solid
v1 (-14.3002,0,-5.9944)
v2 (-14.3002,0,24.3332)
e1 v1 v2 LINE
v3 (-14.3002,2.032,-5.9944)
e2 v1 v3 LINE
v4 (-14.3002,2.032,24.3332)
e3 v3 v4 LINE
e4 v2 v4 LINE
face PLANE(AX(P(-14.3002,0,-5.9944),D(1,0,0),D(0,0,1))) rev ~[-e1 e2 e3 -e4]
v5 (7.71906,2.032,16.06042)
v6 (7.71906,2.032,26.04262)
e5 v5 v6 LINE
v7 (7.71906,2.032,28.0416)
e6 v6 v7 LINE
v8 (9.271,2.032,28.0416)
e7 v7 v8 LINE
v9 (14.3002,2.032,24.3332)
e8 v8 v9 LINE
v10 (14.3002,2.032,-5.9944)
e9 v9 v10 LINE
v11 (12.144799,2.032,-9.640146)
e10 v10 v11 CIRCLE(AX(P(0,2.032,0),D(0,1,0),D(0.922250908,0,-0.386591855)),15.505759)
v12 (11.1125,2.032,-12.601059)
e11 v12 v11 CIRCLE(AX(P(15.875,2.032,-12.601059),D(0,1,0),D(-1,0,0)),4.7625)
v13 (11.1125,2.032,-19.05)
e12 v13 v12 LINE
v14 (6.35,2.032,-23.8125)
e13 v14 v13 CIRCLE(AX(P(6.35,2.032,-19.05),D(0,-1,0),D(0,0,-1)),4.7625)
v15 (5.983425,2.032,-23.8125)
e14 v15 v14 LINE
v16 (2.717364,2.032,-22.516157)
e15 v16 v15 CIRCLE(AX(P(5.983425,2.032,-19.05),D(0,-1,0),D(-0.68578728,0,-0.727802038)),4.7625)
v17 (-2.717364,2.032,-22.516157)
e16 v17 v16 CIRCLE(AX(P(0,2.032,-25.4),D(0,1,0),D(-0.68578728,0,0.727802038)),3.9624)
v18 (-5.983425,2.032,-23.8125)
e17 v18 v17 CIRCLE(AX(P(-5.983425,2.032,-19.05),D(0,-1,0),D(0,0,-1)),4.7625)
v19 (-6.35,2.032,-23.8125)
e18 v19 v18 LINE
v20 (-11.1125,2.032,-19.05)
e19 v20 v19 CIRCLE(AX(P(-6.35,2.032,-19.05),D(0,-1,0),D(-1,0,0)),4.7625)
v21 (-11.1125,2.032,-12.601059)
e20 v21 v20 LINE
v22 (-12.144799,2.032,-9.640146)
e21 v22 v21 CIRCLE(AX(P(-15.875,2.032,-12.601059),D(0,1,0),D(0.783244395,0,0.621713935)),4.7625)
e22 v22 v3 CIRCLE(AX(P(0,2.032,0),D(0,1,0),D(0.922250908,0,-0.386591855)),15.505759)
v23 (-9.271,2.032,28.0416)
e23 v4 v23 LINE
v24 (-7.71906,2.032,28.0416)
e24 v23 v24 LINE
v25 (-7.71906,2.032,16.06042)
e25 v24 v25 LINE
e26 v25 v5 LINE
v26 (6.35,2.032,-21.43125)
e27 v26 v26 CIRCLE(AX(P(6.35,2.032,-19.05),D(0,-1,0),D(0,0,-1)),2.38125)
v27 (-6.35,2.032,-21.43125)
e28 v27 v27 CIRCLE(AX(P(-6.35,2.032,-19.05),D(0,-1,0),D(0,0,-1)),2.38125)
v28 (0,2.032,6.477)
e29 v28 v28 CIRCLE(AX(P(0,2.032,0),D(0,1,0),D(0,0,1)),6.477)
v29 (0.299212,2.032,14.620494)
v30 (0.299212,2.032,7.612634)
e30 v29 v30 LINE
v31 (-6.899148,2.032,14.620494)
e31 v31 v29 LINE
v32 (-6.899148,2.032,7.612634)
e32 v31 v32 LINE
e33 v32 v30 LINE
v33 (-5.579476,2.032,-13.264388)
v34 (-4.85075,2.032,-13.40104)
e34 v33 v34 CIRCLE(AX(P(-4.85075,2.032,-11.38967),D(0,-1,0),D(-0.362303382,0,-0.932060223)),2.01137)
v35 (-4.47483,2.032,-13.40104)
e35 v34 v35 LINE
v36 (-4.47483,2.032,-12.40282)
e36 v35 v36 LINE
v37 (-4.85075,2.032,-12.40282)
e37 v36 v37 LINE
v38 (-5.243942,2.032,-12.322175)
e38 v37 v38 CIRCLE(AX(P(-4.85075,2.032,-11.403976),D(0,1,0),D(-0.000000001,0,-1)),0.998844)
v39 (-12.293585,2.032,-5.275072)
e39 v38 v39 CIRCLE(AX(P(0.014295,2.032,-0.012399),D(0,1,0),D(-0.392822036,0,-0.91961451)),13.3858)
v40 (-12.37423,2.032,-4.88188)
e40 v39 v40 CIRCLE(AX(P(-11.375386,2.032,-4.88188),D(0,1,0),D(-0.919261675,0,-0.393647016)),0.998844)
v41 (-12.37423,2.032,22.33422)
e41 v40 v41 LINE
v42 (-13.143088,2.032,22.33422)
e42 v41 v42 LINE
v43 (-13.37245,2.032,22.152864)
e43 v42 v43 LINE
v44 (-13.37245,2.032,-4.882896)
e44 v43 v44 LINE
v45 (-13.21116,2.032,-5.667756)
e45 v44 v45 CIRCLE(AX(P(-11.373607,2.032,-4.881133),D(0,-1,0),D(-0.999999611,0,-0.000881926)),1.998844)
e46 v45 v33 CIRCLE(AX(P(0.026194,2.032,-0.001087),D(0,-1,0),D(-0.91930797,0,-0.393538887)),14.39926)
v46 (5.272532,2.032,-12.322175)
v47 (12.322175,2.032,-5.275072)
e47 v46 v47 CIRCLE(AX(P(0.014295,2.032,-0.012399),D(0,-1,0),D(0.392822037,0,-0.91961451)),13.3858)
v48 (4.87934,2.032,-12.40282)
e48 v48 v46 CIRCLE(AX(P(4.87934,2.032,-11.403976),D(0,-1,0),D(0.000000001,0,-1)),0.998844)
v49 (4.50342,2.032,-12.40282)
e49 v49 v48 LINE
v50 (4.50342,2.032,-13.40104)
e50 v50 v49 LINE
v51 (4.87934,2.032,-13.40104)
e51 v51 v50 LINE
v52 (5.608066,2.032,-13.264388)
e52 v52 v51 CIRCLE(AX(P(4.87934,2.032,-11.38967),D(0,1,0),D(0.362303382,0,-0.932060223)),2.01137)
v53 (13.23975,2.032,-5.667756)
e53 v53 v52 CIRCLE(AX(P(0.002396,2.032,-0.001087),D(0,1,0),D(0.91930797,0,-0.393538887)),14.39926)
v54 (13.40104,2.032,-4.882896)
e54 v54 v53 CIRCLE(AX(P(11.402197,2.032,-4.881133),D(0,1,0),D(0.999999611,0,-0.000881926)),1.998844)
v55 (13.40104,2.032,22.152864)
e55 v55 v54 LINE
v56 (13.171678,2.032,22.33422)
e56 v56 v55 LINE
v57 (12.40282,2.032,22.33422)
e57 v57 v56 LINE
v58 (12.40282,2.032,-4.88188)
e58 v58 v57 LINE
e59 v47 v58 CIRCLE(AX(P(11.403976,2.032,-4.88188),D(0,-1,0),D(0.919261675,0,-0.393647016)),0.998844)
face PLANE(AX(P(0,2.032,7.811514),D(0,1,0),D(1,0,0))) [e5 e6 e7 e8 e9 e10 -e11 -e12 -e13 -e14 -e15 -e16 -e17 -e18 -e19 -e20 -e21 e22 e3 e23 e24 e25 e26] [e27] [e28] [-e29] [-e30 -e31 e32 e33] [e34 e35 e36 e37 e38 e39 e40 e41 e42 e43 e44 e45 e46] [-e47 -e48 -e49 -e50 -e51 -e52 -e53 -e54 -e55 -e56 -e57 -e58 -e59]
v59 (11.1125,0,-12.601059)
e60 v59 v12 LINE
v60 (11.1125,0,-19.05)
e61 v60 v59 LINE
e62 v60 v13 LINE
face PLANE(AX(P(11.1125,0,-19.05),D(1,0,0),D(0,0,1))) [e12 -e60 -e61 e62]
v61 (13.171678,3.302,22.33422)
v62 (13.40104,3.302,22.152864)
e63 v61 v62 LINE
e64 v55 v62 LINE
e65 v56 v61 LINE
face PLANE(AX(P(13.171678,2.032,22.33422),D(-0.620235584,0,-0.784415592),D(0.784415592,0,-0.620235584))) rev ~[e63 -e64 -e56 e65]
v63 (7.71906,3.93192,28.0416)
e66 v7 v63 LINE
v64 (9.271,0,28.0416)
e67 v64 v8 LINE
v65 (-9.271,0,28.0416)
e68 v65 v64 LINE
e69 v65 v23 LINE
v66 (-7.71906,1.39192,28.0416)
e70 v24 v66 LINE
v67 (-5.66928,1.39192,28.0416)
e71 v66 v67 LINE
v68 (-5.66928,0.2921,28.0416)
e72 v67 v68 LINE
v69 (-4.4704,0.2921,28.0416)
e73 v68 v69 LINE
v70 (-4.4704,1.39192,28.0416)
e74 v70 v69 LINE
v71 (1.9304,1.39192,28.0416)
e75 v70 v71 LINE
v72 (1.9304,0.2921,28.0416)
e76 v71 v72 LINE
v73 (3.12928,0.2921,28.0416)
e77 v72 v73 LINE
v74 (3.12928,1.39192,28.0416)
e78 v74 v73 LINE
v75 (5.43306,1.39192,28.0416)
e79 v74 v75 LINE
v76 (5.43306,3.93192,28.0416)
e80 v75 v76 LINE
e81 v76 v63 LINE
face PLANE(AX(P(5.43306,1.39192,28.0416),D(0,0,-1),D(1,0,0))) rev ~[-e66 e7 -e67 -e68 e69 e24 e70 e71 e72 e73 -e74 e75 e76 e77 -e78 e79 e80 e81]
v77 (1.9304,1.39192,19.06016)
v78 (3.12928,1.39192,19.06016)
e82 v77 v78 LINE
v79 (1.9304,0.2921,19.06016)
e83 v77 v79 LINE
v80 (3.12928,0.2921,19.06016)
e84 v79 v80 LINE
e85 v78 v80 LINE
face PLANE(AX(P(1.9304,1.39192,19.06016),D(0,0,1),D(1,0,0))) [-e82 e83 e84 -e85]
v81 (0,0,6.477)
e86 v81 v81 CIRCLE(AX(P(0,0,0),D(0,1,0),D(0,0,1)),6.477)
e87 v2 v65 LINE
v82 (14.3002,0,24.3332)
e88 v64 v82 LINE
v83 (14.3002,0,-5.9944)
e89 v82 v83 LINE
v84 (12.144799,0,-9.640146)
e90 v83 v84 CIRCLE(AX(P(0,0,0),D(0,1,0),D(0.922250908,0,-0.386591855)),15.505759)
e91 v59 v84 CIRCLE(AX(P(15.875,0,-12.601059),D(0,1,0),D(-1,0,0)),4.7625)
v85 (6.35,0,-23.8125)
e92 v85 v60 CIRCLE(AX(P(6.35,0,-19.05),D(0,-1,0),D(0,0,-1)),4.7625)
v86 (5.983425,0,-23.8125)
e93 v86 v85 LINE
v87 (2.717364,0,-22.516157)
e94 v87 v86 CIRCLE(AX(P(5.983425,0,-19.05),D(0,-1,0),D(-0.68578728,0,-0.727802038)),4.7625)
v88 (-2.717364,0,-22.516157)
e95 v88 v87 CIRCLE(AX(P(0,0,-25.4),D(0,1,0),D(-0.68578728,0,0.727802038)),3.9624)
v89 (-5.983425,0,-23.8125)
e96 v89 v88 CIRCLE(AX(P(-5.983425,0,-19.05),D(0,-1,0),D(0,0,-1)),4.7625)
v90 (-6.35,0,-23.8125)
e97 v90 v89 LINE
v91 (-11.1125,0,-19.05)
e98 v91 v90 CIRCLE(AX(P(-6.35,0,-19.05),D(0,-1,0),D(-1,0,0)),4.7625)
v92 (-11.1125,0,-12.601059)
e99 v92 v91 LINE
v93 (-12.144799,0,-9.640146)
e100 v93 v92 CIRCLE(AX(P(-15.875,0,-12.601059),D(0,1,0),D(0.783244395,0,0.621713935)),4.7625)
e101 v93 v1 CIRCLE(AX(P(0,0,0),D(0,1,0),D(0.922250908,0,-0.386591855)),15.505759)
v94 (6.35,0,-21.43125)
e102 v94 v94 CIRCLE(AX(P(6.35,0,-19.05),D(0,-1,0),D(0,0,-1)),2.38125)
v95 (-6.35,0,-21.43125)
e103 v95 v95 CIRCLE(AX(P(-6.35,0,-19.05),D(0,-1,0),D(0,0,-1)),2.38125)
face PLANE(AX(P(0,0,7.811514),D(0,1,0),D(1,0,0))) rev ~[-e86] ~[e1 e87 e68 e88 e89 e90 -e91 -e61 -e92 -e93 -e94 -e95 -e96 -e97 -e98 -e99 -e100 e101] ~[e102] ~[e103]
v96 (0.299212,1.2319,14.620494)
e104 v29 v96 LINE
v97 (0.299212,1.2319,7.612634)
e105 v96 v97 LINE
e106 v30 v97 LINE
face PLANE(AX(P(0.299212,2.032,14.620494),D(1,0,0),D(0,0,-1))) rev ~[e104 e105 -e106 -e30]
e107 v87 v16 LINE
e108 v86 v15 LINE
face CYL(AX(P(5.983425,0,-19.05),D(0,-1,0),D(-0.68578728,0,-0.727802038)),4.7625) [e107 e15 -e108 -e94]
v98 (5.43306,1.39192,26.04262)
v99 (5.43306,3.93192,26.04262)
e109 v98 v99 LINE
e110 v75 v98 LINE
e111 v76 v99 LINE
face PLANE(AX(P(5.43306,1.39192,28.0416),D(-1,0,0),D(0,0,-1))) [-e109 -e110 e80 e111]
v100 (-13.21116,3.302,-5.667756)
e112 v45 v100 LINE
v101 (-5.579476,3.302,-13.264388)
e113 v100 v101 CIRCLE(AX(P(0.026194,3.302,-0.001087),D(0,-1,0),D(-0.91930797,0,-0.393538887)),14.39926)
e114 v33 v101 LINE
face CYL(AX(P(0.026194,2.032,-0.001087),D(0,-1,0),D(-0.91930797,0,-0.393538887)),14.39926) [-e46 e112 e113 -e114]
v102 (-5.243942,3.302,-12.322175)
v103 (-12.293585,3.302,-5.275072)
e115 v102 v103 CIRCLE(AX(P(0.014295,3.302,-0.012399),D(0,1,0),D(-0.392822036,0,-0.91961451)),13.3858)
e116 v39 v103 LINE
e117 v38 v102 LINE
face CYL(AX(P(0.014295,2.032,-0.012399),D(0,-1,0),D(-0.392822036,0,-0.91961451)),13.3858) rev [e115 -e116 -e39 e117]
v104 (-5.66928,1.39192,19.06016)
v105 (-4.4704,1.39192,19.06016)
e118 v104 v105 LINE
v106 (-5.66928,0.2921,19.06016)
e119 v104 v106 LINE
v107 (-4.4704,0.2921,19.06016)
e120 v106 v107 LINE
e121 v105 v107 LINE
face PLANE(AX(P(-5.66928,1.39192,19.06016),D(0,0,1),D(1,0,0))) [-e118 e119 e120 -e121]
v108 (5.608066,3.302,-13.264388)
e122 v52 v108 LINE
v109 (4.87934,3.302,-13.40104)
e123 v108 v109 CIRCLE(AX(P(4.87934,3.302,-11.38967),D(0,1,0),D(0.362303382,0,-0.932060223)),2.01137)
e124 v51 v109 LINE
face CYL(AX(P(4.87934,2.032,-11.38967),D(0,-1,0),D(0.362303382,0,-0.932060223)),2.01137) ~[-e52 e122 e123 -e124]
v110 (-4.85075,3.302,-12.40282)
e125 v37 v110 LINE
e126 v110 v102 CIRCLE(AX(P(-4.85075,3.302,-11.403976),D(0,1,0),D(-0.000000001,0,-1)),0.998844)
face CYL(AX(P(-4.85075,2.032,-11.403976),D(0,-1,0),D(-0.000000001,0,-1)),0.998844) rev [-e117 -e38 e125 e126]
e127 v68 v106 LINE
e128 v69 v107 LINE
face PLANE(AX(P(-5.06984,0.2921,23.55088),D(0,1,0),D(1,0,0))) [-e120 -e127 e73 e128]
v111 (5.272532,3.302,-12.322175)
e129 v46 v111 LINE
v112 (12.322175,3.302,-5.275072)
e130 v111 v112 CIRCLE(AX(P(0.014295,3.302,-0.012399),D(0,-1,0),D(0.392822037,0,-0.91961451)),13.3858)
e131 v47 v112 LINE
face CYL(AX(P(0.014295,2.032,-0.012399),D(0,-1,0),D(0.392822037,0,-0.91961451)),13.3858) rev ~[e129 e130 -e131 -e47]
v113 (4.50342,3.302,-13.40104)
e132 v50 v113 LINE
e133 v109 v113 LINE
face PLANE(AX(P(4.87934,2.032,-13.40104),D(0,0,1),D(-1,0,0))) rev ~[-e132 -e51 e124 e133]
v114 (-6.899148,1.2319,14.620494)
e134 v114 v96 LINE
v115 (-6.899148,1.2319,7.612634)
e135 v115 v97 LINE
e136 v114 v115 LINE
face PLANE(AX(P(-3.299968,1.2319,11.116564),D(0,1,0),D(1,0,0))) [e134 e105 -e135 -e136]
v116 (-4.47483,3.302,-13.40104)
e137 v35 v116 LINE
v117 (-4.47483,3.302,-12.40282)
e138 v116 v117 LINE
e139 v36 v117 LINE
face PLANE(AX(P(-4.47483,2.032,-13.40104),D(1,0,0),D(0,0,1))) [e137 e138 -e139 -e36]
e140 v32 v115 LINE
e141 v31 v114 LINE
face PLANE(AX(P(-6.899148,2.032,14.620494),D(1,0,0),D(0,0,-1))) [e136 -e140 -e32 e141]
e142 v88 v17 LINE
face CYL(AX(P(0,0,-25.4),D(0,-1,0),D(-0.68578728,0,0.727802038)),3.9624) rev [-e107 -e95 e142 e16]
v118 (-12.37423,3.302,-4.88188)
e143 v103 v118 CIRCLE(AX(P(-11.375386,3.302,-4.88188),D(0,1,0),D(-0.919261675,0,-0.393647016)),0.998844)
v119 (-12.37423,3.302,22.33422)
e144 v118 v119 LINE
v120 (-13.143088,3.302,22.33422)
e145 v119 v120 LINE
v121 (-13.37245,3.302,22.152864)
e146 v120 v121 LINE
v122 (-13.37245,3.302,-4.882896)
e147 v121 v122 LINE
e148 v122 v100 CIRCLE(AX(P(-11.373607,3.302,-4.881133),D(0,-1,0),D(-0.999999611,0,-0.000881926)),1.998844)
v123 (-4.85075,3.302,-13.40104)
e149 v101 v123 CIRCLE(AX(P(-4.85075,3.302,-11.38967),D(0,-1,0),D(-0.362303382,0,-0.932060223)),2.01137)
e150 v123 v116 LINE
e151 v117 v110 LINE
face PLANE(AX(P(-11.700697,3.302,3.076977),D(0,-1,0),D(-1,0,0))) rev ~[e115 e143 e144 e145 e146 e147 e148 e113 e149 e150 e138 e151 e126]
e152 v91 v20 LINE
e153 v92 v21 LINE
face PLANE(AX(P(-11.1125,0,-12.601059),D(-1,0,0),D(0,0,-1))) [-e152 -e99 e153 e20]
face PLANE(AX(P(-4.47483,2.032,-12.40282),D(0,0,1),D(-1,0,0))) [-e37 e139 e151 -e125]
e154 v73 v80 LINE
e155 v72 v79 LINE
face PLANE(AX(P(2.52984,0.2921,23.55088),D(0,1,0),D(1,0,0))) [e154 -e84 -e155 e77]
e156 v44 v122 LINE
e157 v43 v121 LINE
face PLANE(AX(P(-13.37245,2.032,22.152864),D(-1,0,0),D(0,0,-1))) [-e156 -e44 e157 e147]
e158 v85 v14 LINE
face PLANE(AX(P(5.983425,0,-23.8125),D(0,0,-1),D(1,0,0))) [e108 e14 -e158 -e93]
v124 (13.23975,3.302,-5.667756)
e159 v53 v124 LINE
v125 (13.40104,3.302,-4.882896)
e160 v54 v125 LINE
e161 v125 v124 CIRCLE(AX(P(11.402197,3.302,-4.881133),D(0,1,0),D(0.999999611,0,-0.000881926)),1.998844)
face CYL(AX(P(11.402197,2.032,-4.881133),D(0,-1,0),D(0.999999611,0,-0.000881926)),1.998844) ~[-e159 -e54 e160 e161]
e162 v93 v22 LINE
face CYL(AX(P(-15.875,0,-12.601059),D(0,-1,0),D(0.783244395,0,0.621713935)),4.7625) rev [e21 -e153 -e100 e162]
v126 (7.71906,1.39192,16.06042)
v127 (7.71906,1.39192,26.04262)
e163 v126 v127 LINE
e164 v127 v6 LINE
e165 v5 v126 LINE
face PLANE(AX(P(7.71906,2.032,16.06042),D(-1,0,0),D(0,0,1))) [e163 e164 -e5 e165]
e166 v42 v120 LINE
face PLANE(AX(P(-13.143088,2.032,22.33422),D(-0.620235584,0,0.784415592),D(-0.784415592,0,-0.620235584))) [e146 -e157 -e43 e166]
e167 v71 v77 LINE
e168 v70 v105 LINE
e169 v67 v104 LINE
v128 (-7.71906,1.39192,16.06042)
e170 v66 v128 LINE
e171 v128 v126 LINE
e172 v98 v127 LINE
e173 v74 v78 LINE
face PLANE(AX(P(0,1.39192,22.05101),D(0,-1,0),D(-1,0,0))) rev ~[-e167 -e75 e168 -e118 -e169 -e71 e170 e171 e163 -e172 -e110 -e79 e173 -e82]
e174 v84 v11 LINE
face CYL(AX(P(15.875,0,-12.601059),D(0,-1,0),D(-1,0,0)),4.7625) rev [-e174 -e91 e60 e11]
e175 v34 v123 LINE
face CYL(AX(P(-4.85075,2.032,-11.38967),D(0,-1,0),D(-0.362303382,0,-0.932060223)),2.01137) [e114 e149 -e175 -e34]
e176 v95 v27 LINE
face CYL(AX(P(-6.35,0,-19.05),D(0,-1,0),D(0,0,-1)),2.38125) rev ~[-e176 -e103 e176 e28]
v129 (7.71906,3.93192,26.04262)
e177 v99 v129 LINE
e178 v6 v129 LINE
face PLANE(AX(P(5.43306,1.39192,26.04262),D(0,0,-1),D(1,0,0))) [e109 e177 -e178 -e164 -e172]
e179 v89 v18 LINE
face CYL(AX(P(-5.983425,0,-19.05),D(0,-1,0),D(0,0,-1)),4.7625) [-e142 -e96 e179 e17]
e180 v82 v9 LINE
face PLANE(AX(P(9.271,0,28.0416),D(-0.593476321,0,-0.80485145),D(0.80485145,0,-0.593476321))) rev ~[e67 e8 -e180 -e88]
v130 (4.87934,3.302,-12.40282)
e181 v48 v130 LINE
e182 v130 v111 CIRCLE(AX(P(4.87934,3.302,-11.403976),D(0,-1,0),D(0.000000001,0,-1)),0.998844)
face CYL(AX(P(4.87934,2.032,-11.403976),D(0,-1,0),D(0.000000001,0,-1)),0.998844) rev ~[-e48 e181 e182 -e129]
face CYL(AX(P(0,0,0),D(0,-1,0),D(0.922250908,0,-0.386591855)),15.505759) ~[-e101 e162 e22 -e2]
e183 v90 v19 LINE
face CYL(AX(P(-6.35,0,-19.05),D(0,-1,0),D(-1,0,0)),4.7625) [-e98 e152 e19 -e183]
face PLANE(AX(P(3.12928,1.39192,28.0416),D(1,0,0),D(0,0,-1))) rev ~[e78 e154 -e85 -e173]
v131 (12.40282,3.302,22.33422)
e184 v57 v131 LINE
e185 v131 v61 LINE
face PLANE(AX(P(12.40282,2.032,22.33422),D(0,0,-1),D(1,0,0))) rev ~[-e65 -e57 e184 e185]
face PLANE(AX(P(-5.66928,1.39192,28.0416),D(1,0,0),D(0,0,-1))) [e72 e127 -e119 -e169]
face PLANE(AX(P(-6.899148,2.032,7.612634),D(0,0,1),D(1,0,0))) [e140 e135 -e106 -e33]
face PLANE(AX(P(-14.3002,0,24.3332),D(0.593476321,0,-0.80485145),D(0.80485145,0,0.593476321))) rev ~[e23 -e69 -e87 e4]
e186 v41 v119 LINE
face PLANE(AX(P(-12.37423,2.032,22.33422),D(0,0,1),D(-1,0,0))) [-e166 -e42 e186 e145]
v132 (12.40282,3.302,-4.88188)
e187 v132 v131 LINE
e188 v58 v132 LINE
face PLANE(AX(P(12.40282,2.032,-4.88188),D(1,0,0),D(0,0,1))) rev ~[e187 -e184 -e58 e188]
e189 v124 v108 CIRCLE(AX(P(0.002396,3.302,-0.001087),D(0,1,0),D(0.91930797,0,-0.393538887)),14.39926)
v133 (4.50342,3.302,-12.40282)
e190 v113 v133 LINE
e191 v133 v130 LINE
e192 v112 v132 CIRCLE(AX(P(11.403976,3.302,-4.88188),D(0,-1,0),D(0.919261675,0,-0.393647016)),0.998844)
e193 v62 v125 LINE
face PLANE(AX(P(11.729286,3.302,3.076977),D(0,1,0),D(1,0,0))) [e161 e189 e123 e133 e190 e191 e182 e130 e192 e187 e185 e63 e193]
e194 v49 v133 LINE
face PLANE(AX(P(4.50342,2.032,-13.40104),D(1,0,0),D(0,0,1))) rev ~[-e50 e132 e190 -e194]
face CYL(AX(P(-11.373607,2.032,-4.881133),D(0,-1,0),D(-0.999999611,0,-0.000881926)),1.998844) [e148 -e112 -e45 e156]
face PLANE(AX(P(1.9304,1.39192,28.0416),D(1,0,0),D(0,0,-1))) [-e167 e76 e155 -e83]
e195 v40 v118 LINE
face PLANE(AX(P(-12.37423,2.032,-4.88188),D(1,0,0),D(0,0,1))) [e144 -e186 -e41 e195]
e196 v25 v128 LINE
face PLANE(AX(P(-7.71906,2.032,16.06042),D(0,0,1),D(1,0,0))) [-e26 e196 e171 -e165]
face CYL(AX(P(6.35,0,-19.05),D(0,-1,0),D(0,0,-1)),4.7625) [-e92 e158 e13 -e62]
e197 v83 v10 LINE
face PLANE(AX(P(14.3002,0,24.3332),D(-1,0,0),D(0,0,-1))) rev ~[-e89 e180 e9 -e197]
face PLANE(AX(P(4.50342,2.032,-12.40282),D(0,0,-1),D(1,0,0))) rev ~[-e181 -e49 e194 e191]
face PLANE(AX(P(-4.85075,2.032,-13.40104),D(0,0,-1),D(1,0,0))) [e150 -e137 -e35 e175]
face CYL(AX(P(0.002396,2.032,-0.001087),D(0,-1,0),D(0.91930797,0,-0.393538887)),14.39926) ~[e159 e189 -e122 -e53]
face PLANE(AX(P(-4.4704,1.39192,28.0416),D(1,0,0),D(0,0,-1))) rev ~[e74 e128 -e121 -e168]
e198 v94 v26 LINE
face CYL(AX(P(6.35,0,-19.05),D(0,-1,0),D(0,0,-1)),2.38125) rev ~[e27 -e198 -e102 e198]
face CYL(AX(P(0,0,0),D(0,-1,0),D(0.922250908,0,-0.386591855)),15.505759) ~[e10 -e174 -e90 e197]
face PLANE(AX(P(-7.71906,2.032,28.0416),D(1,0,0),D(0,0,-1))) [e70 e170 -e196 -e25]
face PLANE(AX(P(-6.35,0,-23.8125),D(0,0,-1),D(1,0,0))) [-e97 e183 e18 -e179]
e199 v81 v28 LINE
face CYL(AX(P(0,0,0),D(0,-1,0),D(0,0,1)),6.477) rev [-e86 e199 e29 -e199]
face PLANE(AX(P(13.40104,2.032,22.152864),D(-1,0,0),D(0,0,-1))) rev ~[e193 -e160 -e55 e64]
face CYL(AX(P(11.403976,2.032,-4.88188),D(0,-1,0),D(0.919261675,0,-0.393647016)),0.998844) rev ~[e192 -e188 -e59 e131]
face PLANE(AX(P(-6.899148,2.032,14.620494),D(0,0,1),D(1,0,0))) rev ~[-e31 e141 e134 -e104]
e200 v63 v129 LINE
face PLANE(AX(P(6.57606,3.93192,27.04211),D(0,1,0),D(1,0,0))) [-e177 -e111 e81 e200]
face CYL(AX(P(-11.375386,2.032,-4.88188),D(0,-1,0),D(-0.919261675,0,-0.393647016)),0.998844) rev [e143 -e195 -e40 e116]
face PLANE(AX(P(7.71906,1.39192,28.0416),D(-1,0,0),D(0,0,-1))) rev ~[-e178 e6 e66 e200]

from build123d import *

# Parameters (mm, degrees)
SKETCH1_R           = 6.477
BOSS_EXTRUDE1_DEPTH = 2.032
CUT_EXTRUDE1_DEPTH  = 0.64008
SKETCH3_W           = 1.19888
SKETCH3_H           = 8.98144
CUT_EXTRUDE2_DEPTH  = 1.09982
SKETCH4_W           = 7.19836
SKETCH4_H           = 7.00786
CUT_EXTRUDE3_DEPTH  = 0.8001
BOSS_EXTRUDE2_DEPTH = 1.27
SKETCH6_W           = 2.286
SKETCH6_H           = 1.99898
BOSS_EXTRUDE3_DEPTH = 2.54
SKETCH7_R           = 2.38125
BOSS_EXTRUDE4_DEPTH = 2.032


with BuildPart() as part:
    # Sketch1 → Boss-Extrude1 (new body)
    with BuildSketch(Plane(origin=(0, 0, 0), x_dir=(1, 0, 0), z_dir=(0, 1, 0))):
        with BuildLine():
            Line((-14.3002, 5.9944), (-14.3002, -24.3332))
            Line((-14.3002, -24.3332), (-9.271, -28.0416))
            Line((-9.271, -28.0416), (9.271, -28.0416))
            Line((9.271, -28.0416), (14.3002, -24.3332))
            Line((14.3002, -24.3332), (14.3002, 5.9944))
            ThreePointArc((14.3002, 5.9944), (0, 15.505758653), (-14.3002, 5.9944))
        make_face()
        with Locations(Location((0, 0, 0), (0, 0, 270))):
            Circle(SKETCH1_R, mode=Mode.SUBTRACT)
    extrude(amount=BOSS_EXTRUDE1_DEPTH)

    # Sketch2 → Cut-Extrude1 (cut)
    with BuildSketch(Plane(origin=(0, 2.032, 0), x_dir=(1, 0, 0), z_dir=(0, 1, 0))):
        Polygon((0, -28.0416), (-7.71906, -28.0416), (-7.71906, -16.06042), (7.71906, -16.06042), (7.71906, -28.0416), align=None)
    extrude(amount=-CUT_EXTRUDE1_DEPTH, mode=Mode.SUBTRACT)

    # Sketch3 → Cut-Extrude2 (cut)
    with BuildSketch(Plane(origin=(0, 1.39192, 0), x_dir=(1, 0, 0), z_dir=(0, 1, 0))):
        with Locations((-5.06984, -23.55088)):
            Rectangle(SKETCH3_W, SKETCH3_H)
        with Locations((2.52984, -23.55088)):
            Rectangle(SKETCH3_W, SKETCH3_H)
    extrude(amount=-CUT_EXTRUDE2_DEPTH, mode=Mode.SUBTRACT)

    # Sketch4 → Cut-Extrude3 (cut)
    with BuildSketch(Plane(origin=(0, 2.032, 0), x_dir=(1, 0, 0), z_dir=(0, 1, 0))):
        with Locations((-3.299968, -11.116564)):
            Rectangle(SKETCH4_W, SKETCH4_H)
    extrude(amount=-CUT_EXTRUDE3_DEPTH, mode=Mode.SUBTRACT)

    # Sketch5 → Boss-Extrude2 (add)
    with BuildSketch(Plane(origin=(0, 2.032, 0), x_dir=(1, 0, 0), z_dir=(0, 1, 0))):
        with BuildLine():
            Line((12.40282, -22.33422), (13.171678, -22.33422))
            Line((13.171678, -22.33422), (13.40104, -22.152864))
            Line((13.40104, -22.152864), (13.40104, 4.882896))
            ThreePointArc((13.40104, 4.882896), (13.360125716, 5.283490726), (13.23975, 5.667756))
            ThreePointArc((13.23975, 5.667756), (10.160746855, 10.20631074), (5.608066, 13.264388))
            ThreePointArc((5.608066, 13.264388), (5.250053957, 13.366581837), (4.87934, 13.40104))
            Line((4.87934, 13.40104), (4.50342, 13.40104))
            Line((4.50342, 13.40104), (4.50342, 12.40282))
            Line((4.50342, 12.40282), (4.87934, 12.40282))
            ThreePointArc((4.87934, 12.40282), (5.080028543, 12.382451063), (5.272532, 12.322175))
            ThreePointArc((5.272532, 12.322175), (9.477779109, 9.479294357), (12.322175, 5.275072))
            ThreePointArc((12.322175, 5.275072), (12.382451063, 5.082568543), (12.40282, 4.88188))
            Line((12.40282, 4.88188), (12.40282, -22.33422))
        make_face()
        with BuildLine():
            Line((-4.850750436, 13.40104), (-4.474830436, 13.40104))
            Line((-4.474830436, 13.40104), (-4.474830436, 12.40282))
            Line((-4.474830436, 12.40282), (-4.850750436, 12.40282))
            ThreePointArc((-4.850750436, 12.40282), (-5.051438979, 12.382451063), (-5.243942436, 12.322175))
            ThreePointArc((-5.243942436, 12.322175), (-9.449189546, 9.479294357), (-12.293585436, 5.275072))
            ThreePointArc((-12.293585436, 5.275072), (-12.353861499, 5.082568543), (-12.374230436, 4.88188))
            Line((-12.374230436, 4.88188), (-12.374230436, -22.33422))
            Line((-12.374230436, -22.33422), (-13.143088436, -22.33422))
            Line((-13.143088436, -22.33422), (-13.372450436, -22.152864))
            Line((-13.372450436, -22.152864), (-13.372450436, 4.882896))
            ThreePointArc((-13.372450436, 4.882896), (-13.331536152, 5.283490726), (-13.211160436, 5.667756))
            ThreePointArc((-13.211160436, 5.667756), (-10.132157291, 10.20631074), (-5.579476436, 13.264388))
            ThreePointArc((-5.579476436, 13.264388), (-5.221464393, 13.366581837), (-4.850750436, 13.40104))
        make_face()
    extrude(amount=BOSS_EXTRUDE2_DEPTH)

    # Sketch6 → Boss-Extrude3 (add)
    with BuildSketch(Plane(origin=(0, 1.39192, 0), x_dir=(1, 0, 0), z_dir=(0, 1, 0))):
        with Locations((6.57606, -27.04211)):
            Rectangle(SKETCH6_W, SKETCH6_H)
    extrude(amount=BOSS_EXTRUDE3_DEPTH)

    # Sketch7 → Boss-Extrude4 (add)
    with BuildSketch(Plane.XZ):
        with BuildLine():
            ThreePointArc((-12.144798566, -9.640146223), (-11.377973728, -11.033206497), (-11.1125, -12.601058837))
            Line((-11.1125, -12.601058837), (-11.1125, -19.05))
            ThreePointArc((-11.1125, -19.05), (-9.717596045, -22.417596045), (-6.35, -23.8125))
            Line((-6.35, -23.8125), (-5.983425441, -23.8125))
            ThreePointArc((-5.983425441, -23.8125), (-4.22646321, -23.476566386), (-2.717363519, -22.516157205))
            ThreePointArc((-2.717363519, -22.516157205), (0, -21.4376), (2.717363519, -22.516157205))
            ThreePointArc((2.717363519, -22.516157205), (4.22646321, -23.476566386), (5.983425441, -23.8125))
            Line((5.983425441, -23.8125), (6.35, -23.8125))
            ThreePointArc((6.35, -23.8125), (9.717596045, -22.417596045), (11.1125, -19.05))
            Line((11.1125, -19.05), (11.1125, -12.601058837))
            ThreePointArc((11.1125, -12.601058837), (11.377973728, -11.033206497), (12.144798566, -9.640146223))
            ThreePointArc((12.144798566, -9.640146223), (0, -15.505758653), (-12.144798566, -9.640146223))
        make_face()
        with Locations(Location((-6.35, -19.05, 0), (0, 0, 270))):
            Circle(SKETCH7_R, mode=Mode.SUBTRACT)
        with Locations(Location((6.35, -19.05, 0), (0, 0, 270))):
            Circle(SKETCH7_R, mode=Mode.SUBTRACT)
    extrude(amount=-BOSS_EXTRUDE4_DEPTH)


solid = part.part
